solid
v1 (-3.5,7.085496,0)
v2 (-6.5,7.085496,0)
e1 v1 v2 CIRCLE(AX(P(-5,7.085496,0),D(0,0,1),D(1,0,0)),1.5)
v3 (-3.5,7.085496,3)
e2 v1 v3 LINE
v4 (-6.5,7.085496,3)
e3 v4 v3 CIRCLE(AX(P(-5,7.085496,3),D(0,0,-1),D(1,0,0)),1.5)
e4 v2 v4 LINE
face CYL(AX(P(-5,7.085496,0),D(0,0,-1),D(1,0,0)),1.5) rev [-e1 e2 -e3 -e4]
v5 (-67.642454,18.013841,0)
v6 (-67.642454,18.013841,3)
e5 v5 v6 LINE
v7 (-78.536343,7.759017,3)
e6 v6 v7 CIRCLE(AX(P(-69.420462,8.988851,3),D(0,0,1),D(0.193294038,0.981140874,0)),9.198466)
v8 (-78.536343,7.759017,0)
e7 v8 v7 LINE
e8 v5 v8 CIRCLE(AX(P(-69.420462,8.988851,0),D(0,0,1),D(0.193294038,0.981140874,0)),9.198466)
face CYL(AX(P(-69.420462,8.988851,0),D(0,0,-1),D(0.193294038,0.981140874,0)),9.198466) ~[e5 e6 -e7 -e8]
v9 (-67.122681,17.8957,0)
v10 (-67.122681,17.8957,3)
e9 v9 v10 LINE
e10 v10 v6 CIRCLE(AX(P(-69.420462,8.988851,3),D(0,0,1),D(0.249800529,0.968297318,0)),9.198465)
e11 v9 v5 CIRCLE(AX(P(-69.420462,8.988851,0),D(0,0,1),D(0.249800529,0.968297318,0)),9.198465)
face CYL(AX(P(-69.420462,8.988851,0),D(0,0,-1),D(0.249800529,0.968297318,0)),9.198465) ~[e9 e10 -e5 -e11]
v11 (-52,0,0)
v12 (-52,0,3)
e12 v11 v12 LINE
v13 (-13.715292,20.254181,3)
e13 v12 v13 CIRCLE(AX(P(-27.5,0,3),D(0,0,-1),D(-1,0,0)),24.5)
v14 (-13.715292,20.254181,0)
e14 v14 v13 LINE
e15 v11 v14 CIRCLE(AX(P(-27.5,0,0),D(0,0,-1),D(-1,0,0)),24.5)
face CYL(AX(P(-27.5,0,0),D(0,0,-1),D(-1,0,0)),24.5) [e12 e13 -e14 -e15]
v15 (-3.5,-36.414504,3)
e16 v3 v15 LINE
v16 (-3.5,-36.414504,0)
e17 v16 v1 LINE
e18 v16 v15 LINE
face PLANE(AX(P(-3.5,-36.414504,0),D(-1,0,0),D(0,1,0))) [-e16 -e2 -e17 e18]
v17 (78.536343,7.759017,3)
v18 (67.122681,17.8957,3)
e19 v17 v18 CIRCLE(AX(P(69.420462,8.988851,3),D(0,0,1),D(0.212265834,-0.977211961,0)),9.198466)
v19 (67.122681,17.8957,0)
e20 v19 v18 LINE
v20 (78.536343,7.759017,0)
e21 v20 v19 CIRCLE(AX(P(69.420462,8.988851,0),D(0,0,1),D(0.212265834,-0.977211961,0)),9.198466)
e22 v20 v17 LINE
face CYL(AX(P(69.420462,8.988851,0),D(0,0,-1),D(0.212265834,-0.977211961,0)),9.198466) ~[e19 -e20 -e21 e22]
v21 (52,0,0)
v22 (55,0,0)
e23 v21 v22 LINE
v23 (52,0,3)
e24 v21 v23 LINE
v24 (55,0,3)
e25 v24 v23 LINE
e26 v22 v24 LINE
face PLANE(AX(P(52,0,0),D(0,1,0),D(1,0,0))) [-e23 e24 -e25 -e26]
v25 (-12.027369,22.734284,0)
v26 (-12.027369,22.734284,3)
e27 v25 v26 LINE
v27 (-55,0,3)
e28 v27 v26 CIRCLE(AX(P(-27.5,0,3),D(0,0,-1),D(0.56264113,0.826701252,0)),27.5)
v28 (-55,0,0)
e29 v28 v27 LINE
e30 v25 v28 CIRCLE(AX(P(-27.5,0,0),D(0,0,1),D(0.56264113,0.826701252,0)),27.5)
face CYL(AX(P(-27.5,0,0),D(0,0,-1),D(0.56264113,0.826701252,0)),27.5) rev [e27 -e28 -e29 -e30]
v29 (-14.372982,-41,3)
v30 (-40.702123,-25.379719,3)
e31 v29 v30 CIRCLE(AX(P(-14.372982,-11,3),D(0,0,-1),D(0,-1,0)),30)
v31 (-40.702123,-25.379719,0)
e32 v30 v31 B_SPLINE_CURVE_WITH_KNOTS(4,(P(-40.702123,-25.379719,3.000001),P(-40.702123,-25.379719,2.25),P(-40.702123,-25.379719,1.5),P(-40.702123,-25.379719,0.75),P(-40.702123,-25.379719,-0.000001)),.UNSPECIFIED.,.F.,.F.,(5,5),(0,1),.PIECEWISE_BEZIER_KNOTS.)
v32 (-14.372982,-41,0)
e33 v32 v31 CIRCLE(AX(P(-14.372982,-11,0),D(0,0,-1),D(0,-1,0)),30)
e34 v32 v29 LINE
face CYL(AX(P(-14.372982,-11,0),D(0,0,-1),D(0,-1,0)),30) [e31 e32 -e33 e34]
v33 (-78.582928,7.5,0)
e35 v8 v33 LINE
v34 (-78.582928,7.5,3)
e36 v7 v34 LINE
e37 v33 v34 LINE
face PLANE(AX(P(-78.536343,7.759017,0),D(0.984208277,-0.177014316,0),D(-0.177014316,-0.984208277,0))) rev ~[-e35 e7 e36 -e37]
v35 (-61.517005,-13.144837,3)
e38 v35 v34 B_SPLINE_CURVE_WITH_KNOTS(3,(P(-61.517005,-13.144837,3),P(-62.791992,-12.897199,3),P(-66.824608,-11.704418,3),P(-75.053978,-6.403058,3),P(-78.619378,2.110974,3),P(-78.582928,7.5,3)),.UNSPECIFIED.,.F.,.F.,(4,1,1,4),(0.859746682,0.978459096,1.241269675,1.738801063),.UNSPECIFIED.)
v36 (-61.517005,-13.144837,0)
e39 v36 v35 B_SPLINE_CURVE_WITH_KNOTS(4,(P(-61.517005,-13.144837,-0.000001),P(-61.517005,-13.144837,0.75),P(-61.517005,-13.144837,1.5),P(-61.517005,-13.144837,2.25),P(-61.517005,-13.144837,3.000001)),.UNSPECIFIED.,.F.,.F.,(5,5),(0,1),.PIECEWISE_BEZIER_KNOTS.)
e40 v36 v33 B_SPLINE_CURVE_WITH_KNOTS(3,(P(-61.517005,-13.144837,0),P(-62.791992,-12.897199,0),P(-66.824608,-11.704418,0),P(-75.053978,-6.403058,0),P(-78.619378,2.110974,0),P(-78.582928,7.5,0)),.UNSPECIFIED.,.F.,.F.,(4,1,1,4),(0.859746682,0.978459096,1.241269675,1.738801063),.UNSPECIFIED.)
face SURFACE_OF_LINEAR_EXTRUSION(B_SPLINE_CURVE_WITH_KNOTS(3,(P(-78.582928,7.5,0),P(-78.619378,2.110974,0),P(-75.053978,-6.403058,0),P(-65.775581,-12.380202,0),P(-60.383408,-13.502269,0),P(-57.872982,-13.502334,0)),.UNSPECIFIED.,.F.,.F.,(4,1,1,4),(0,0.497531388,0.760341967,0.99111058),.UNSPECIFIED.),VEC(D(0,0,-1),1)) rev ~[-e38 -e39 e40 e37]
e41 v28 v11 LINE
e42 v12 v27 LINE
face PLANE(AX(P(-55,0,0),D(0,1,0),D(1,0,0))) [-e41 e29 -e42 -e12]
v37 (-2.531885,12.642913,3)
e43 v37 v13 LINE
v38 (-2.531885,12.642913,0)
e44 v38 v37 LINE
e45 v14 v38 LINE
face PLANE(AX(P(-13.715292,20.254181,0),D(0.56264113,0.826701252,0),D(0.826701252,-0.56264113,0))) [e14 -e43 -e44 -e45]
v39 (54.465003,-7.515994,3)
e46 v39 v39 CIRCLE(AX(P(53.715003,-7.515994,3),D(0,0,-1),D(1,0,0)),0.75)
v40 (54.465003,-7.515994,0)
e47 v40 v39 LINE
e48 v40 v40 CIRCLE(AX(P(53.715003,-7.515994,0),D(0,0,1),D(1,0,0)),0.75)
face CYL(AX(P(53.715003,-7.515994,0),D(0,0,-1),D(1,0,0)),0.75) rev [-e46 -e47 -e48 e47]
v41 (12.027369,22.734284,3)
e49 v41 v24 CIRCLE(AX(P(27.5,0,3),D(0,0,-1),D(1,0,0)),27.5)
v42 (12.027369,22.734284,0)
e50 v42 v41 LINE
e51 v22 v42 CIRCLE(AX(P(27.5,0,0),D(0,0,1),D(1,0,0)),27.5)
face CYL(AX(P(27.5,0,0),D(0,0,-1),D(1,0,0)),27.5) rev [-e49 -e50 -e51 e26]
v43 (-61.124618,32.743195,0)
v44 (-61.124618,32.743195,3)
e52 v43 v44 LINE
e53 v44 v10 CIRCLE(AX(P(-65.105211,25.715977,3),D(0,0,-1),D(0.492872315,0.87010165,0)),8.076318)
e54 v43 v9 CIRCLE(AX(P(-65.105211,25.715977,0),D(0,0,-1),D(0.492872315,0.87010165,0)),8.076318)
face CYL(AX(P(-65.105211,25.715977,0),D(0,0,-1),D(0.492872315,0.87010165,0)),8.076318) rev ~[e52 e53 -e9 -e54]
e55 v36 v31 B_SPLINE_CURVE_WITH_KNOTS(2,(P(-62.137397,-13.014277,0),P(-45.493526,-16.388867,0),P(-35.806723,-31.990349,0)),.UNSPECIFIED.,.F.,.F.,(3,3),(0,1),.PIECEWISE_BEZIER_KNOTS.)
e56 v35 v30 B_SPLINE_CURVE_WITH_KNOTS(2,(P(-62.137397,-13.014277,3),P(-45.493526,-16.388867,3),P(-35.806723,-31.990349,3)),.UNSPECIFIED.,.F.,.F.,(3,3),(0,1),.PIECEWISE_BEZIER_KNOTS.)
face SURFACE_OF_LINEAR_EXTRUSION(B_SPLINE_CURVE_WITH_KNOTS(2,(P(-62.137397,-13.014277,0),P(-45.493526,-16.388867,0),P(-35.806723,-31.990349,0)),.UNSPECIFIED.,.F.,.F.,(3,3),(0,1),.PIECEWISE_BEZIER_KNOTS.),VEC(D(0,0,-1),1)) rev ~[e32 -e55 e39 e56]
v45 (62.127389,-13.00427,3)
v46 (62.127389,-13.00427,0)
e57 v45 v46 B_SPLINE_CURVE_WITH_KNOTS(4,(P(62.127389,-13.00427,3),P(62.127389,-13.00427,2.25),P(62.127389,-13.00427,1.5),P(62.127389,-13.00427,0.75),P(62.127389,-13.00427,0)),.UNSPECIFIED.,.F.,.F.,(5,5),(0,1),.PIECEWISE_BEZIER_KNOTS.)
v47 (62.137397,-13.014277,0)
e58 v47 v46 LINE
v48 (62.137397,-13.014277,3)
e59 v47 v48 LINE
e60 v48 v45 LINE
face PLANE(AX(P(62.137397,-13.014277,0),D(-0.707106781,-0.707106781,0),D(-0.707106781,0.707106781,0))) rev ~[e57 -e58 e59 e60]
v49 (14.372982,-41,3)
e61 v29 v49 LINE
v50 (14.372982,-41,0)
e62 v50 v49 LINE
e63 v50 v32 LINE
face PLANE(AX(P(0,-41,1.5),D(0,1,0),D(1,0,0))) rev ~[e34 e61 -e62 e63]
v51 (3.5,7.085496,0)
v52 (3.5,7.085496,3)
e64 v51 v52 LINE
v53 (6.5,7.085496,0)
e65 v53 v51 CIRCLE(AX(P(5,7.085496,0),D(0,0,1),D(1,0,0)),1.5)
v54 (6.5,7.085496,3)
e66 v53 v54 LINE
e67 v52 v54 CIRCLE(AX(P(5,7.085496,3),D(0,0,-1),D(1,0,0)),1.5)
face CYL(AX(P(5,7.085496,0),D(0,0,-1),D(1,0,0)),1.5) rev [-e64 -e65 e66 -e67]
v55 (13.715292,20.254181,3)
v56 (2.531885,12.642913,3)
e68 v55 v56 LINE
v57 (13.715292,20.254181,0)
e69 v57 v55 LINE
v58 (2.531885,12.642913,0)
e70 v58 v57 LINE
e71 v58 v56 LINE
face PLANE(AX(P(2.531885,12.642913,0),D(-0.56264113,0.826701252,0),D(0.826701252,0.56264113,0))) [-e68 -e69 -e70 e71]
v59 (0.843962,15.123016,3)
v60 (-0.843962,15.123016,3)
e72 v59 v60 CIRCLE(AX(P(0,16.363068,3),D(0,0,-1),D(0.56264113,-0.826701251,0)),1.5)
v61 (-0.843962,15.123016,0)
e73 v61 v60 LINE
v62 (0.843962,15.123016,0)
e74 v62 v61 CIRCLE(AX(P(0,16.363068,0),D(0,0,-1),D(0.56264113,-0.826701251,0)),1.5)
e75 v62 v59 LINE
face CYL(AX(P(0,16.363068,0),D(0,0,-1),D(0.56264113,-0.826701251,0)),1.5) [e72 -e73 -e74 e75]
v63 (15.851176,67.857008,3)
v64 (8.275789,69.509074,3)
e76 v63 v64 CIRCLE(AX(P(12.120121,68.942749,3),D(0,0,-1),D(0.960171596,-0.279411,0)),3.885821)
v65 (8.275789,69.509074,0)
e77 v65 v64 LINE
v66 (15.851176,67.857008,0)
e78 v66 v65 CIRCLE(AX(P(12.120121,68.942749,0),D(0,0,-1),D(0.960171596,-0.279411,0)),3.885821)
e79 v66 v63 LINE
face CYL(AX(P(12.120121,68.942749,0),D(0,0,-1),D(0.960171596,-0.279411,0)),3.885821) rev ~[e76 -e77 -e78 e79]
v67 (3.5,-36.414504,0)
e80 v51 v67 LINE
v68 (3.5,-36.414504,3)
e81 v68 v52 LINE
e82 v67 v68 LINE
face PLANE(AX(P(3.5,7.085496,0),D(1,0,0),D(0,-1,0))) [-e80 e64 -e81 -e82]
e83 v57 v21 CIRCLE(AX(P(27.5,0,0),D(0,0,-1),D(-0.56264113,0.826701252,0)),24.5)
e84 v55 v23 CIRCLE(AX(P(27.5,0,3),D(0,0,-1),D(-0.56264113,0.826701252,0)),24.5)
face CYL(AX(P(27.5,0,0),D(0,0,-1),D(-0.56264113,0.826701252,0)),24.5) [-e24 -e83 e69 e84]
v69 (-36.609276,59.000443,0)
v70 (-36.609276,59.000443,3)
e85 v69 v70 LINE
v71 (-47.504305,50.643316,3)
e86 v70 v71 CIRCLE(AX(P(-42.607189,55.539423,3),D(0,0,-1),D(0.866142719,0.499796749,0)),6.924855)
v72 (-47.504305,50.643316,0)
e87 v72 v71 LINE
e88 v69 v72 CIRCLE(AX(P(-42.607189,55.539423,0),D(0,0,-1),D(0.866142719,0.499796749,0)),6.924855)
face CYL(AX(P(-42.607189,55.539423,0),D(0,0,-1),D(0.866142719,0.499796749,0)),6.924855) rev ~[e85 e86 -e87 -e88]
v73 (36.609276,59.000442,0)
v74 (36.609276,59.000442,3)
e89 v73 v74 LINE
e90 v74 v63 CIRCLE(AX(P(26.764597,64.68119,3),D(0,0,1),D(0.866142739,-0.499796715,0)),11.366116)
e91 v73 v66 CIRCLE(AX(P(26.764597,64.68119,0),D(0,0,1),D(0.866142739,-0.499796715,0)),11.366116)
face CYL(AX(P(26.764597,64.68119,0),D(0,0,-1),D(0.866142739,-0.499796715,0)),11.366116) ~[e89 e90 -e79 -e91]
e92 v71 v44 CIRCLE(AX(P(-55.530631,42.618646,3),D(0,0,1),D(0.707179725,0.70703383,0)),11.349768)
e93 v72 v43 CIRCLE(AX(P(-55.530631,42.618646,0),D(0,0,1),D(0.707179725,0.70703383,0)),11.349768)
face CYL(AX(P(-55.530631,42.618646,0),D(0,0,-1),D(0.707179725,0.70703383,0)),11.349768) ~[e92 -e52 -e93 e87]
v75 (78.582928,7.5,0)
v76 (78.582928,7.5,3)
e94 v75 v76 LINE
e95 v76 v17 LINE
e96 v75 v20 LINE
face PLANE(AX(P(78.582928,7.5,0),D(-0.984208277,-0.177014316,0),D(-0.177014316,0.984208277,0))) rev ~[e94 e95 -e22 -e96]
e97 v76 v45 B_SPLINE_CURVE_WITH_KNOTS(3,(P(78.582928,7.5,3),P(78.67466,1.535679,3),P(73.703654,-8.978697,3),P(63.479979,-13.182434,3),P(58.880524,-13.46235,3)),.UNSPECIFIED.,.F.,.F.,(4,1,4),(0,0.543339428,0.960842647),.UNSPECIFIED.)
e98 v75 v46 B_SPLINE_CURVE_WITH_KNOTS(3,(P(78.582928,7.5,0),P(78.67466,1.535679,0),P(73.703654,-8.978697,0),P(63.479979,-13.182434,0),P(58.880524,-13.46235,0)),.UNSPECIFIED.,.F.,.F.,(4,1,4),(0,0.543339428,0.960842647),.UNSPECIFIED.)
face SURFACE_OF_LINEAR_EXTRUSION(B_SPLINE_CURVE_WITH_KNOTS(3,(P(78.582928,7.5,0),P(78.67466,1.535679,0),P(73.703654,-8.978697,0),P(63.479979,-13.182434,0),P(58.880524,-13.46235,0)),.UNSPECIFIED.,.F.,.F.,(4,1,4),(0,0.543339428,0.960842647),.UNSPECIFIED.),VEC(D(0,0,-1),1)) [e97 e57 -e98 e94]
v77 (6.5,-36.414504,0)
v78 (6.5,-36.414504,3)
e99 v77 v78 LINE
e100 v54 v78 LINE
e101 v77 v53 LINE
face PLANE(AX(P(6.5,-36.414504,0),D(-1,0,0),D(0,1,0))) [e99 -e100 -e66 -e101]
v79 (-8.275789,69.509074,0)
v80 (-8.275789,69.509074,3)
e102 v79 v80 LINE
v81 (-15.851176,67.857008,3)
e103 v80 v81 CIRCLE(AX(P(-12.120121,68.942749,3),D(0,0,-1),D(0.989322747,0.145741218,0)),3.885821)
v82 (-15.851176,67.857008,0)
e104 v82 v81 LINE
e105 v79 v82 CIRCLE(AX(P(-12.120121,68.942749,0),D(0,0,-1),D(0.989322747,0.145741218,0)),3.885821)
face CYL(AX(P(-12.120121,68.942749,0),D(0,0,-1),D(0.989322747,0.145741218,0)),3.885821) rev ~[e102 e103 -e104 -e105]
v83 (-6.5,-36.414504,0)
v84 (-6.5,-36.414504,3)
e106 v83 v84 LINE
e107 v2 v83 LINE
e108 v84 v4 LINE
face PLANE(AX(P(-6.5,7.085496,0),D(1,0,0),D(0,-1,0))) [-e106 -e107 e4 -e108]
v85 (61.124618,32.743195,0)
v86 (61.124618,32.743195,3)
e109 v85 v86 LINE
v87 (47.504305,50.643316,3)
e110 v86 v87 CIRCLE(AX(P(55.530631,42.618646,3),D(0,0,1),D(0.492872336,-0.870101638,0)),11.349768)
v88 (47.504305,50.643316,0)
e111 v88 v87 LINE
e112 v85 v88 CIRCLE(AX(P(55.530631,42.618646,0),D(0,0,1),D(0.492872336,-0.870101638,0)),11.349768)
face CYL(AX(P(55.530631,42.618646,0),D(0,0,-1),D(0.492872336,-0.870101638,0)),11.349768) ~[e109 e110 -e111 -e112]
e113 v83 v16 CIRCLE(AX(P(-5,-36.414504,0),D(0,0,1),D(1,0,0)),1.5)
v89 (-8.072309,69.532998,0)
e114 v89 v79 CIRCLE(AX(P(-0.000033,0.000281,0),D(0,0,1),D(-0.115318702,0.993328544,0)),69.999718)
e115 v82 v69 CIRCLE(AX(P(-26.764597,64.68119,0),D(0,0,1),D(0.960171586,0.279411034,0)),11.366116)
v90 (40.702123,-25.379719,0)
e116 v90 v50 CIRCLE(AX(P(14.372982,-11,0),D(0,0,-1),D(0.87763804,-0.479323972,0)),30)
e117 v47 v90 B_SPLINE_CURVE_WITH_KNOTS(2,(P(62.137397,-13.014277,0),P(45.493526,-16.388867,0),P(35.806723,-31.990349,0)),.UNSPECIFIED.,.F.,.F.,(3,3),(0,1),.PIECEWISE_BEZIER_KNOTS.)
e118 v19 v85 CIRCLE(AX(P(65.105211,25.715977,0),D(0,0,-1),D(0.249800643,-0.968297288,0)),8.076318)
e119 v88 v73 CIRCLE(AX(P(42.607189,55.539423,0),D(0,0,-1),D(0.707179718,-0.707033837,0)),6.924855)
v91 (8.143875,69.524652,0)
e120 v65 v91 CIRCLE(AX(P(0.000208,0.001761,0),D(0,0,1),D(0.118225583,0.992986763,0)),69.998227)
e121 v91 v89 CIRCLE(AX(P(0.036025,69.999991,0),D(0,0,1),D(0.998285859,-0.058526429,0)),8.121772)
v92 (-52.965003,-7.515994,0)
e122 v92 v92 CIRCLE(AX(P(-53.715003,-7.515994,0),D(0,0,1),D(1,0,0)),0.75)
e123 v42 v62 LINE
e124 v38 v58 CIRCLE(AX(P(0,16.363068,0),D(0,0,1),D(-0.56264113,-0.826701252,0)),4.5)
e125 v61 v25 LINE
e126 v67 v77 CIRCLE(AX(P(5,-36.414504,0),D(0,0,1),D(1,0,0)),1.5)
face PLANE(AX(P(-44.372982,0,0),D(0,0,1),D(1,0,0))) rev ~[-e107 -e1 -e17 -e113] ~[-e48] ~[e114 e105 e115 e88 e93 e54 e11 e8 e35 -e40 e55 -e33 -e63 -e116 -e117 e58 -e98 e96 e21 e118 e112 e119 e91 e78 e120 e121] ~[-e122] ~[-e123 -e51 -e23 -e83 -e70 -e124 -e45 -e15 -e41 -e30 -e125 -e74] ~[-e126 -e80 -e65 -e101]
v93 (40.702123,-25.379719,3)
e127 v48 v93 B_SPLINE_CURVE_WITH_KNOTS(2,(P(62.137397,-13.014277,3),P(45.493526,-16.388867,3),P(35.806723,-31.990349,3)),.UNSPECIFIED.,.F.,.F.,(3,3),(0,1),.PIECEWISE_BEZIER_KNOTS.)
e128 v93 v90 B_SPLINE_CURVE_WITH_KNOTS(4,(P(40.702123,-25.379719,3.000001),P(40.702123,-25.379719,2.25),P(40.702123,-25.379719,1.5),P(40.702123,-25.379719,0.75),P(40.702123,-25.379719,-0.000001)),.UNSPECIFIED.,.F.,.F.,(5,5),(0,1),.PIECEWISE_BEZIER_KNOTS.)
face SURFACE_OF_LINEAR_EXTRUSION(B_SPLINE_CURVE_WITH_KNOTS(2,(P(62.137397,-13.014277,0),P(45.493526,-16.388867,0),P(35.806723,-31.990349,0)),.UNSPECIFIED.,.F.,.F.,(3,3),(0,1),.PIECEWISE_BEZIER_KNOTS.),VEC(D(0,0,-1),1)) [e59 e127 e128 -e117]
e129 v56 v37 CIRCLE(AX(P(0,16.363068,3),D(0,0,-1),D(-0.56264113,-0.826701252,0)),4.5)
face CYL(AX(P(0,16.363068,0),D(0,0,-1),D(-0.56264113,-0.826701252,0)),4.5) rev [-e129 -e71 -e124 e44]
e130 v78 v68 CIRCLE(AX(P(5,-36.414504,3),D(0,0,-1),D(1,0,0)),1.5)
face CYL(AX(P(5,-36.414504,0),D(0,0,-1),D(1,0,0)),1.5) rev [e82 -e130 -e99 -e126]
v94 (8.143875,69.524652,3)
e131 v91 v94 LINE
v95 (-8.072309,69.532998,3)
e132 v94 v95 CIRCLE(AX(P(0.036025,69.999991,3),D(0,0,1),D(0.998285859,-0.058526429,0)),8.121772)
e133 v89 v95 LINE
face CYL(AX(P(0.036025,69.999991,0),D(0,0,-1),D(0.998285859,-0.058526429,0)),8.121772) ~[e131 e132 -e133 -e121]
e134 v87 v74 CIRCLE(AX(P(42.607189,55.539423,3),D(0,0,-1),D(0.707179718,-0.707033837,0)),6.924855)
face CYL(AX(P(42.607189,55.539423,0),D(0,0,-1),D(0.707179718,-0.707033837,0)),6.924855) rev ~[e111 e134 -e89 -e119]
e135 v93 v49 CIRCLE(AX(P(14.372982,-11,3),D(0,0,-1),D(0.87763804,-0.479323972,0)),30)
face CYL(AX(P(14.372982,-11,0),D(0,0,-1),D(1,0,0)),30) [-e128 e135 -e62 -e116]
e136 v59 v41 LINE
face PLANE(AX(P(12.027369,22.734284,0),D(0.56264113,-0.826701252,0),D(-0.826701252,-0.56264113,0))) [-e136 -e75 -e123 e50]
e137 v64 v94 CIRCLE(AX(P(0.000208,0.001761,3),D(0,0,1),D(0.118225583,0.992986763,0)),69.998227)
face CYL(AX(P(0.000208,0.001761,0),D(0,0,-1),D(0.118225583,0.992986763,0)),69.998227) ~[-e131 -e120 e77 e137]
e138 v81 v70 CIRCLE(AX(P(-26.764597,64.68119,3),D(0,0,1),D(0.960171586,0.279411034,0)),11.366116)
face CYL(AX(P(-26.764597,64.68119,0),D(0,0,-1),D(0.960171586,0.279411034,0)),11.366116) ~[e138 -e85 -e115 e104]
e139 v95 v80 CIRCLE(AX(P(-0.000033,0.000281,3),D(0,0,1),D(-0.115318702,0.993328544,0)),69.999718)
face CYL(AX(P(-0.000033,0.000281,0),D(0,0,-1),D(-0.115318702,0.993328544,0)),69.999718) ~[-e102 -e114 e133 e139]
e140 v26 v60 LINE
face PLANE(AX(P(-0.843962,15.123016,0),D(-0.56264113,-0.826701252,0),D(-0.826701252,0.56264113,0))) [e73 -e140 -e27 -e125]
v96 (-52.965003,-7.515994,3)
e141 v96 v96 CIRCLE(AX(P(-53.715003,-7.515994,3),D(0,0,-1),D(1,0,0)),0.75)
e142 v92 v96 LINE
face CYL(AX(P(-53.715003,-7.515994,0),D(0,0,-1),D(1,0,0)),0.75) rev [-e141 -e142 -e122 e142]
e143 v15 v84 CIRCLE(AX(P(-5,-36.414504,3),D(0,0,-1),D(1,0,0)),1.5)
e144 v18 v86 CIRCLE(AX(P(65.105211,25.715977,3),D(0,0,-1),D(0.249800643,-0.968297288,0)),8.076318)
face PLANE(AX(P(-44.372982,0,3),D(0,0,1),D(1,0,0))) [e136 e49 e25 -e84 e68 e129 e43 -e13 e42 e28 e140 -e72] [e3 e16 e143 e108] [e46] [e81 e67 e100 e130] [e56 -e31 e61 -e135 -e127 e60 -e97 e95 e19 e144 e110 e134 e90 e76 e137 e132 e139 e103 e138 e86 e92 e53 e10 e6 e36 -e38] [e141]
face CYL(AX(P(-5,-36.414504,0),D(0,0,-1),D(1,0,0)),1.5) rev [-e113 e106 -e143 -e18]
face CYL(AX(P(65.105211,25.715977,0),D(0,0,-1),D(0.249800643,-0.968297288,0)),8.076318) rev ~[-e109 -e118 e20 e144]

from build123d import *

# Parameters (mm, degrees)
BOSS_EXTRUDE3_DEPTH      = 3
BOSS_EXTRUDE4_DEPTH      = 3
CUT_EXTRUDE11_DEPTH      = 111.873556651
CUT_EXTRUDE11_DEPTH_BACK = 111.873556651
SKETCH6_W                = 30
SKETCH6_H                = 41
BOSS_EXTRUDE5_DEPTH      = 40
SKETCH7_W                = 88.745964224
SKETCH7_H                = 3
BOSS_EXTRUDE6_DEPTH      = 41
CUT_EXTRUDE12_DEPTH      = 118.830155579
CUT_EXTRUDE12_DEPTH_BACK = 118.830155579
BOSS_EXTRUDE7_DEPTH      = 3
CUT_EXTRUDE13_START      = 3
SKETCH11_W               = 10
SKETCH11_H               = 13.79344676
CUT_EXTRUDE13_DEPTH      = 41
SKETCH12_R               = 1.55
CUT_EXTRUDE14_DEPTH      = 118.830155613
CUT_EXTRUDE14_DEPTH_BACK = 118.830155613
SKETCH13_R               = 0.75
CUT_EXTRUDE15_DEPTH      = 118.830155613
CUT_EXTRUDE15_DEPTH_BACK = 118.830155613
CUT_EXTRUDE17_START      = 3
SKETCH14_W               = 30.416262865
SKETCH14_H               = 42.907687787
CUT_EXTRUDE17_DEPTH      = 41
SKETCH16_R               = 1.5
CUT_EXTRUDE19_DEPTH      = 111.873556651
CUT_EXTRUDE19_DEPTH_BACK = 111.873556651


with BuildPart() as part:
    # Sketch2 → Boss-Extrude3 (new body)
    with BuildSketch(Plane.XY):
        with BuildLine():
            ThreePointArc((47.50430531, 50.643316247), (38.392532309, 50.044854207), (36.609276159, 59.000442494))
            ThreePointArc((36.609276159, 59.000442494), (31.22500556, 75.135535905), (15.851175796, 67.857008055))
            ThreePointArc((15.851175796, 67.857008055), (11.292148271, 65.146162721), (8.27578906, 69.509073619))
            ThreePointArc((8.27578906, 69.509073619), (8.209835801, 69.516894322), (8.143875152, 69.524652444))
            ThreePointArc((8.143875152, 69.524652444), (0.040205316, 78.121761213), (-8.072309219, 69.532998094))
            ThreePointArc((-8.072309219, 69.532998094), (-8.174057892, 69.521110302), (-8.27578906, 69.509073619))
            ThreePointArc((-8.27578906, 69.509073619), (-11.292148299, 65.146162715), (-15.851175812, 67.857008111))
            ThreePointArc((-15.851175812, 67.857008111), (-31.225005545, 75.135535912), (-36.609276205, 59.000442573))
            ThreePointArc((-36.609276205, 59.000442573), (-38.39253227, 50.044854237), (-47.504305306, 50.643316242))
            ThreePointArc((-47.504305306, 50.643316242), (-64.562942613, 49.491387864), (-61.124617501, 32.743194941))
            ThreePointArc((-61.124617501, 32.743194941), (-57.616854175, 22.690844698), (-67.122680626, 17.895700022))
            ThreePointArc((-67.122680626, 17.895700022), (-67.381711192, 17.958536274), (-67.642453618, 18.013841027))
            ThreePointArc((-67.642453618, 18.013841027), (-78.427805312, 10.854202298), (-71.372982112, 0))
            Line((-71.372982112, 0), (71.372982112, 0))
            ThreePointArc((71.372982112, 0), (78.369977301, 11.114396723), (67.122680666, 17.895700032))
            ThreePointArc((67.122680666, 17.895700032), (57.616854183, 22.690844679), (61.124617501, 32.743194941))
            ThreePointArc((61.124617501, 32.743194941), (64.562942615, 49.491387862), (47.50430531, 50.643316247))
        make_face()
    extrude(amount=BOSS_EXTRUDE3_DEPTH)

    # Sketch4 → Boss-Extrude4 (add)
    with BuildSketch(Plane.XY):
        with BuildLine():
            Line((-44.372982112, 0), (-57.872982112, 0))
            Line((-57.872982112, 0), (-57.872982112, -13.5))
            ThreePointArc((-57.872982112, -13.5), (-50.941516146, -11.584678656), (-45.97686273, -6.382189564))
            ThreePointArc((-45.97686273, -6.382189564), (-45.287489461, -3.162806043), (-44.372982112, 0))
        make_face()
        with BuildLine():
            Line((-57.872982112, -13.5), (-57.872982112, 0))
            Line((-57.872982112, 0), (-71.372982112, 0))
            ThreePointArc((-71.372982112, 0), (-67.418923658, -9.545941546), (-57.872982112, -13.5))
        make_face()
        with BuildLine():
            Line((-57.872982112, -13.502334306), (-57.872982112, -13.5))
            ThreePointArc((-57.872982112, -13.5), (-67.418923658, -9.545941546), (-71.372982112, 0))
            ThreePointArc((-71.372982112, 0), (-72.451224877, 0.304022071), (-73.484512677, 0.73686523))
            ThreePointArc((-73.484512677, 0.73686523), (-74.477917841, 1.305497745), (-75.393009288, 1.993105481))
            ThreePointArc((-75.393009288, 1.993105481), (-76.19177077, 2.763005392), (-76.892036557, 3.623466668))
            ThreePointArc((-76.892036557, 3.623466668), (-77.482473018, 4.559883509), (-77.956141708, 5.560448192))
            ThreePointArc((-77.956141708, 5.560448192), (-78.314438673, 6.641735343), (-78.536342603, 7.759016536))
            Line((-78.536342603, 7.759016536), (-78.5829279, 7.5))
            add(Edge.make_bspline(
                [(-78.5829279, 7.5), (-78.619378381, 2.110973886), (-75.05397773, -6.403058313), (-65.775580858, -12.380201513), (-60.383408465, -13.5022688), (-57.872982112, -13.502334306)],
                knots=[0, 0, 0, 0, 0.497531388, 0.760341967, 0.99111058, 0.99111058, 0.99111058, 0.99111058], degree=3))
        make_face()
        with BuildLine():
            Line((57.872982112, 0), (44.372982112, 0))
            ThreePointArc((44.372982112, 0), (45.287489461, -3.162806043), (45.97686273, -6.382189564))
            ThreePointArc((45.97686273, -6.382189564), (50.899542414, -11.559461007), (57.775049798, -13.499644783))
            add(Edge.make_bspline(
                [(57.872982112, -13.498764325), (57.840342719, -13.499136412), (57.807698516, -13.49942994), (57.775049798, -13.499644783)],
                knots=[0.991262366, 0.991262366, 0.991262366, 0.991262366, 0.994213276, 0.994213276, 0.994213276, 0.994213276], degree=3))
            Line((57.872982112, -13.498764325), (57.872982112, 0))
        make_face()
        with BuildLine():
            Line((71.372982112, 0), (57.872982112, 0))
            Line((57.872982112, 0), (57.872982112, -13.498764325))
            add(Edge.make_bspline(
                [(58.880524263, -13.462349677), (58.545403195, -13.482744614), (58.209448198, -13.494928627), (57.872982112, -13.498764325)],
                knots=[0.960842647, 0.960842647, 0.960842647, 0.960842647, 0.991262366, 0.991262366, 0.991262366, 0.991262366], degree=3))
            ThreePointArc((58.880524263, -13.462349677), (67.768734207, -9.182814954), (71.372982112, 0))
        make_face()
        with BuildLine():
            ThreePointArc((73.484512677, 0.73686523), (72.451224877, 0.304022071), (71.372982112, 0))
            ThreePointArc((71.372982112, 0), (67.768734207, -9.182814954), (58.880524263, -13.462349677))
            add(Edge.make_bspline(
                [(78.5829279, 7.5), (78.674659632, 1.535679134), (73.703653617, -8.978697254), (63.479979045, -13.182434147), (58.880524263, -13.462349677)],
                knots=[0, 0, 0, 0, 0.543339428, 0.960842647, 0.960842647, 0.960842647, 0.960842647], degree=3))
            Line((78.5829279, 7.5), (78.536342603, 7.759016536))
            ThreePointArc((78.536342603, 7.759016536), (78.314438673, 6.641735343), (77.956141708, 5.560448192))
            ThreePointArc((77.956141708, 5.560448192), (77.482473018, 4.559883509), (76.892036557, 3.623466668))
            ThreePointArc((76.892036557, 3.623466668), (76.19177077, 2.763005392), (75.393009288, 1.993105481))
            ThreePointArc((75.393009288, 1.993105481), (74.477917841, 1.305497745), (73.484512677, 0.73686523))
        make_face()
    extrude(amount=BOSS_EXTRUDE4_DEPTH)

    # Sketch5 → Cut-Extrude11 (cut, two sides)
    with BuildSketch(Plane.XY) as cut_extrude11_sk:
        with BuildLine():
            ThreePointArc((-12.027368937, 22.734284418), (-40.359872584, 24.307893309), (-55, 0))
            Line((-55, 0), (-52, 0))
            ThreePointArc((-52, 0), (-38.956977393, 21.65612313), (-13.715292326, 20.254180663))
            Line((-13.715292326, 20.254180663), (-2.531885083, 12.64291254))
            ThreePointArc((-2.531885083, 12.64291254), (0, 11.863068172), (2.531885083, 12.64291254))
            Line((2.531885083, 12.64291254), (13.715292326, 20.254180663))
            ThreePointArc((13.715292326, 20.254180663), (38.956977393, 21.65612313), (52, 0))
            Line((52, 0), (55, 0))
            ThreePointArc((55, 0), (40.359872584, 24.307893309), (12.027368937, 22.734284418))
            Line((12.027368937, 22.734284418), (0.843961694, 15.123016295))
            ThreePointArc((0.843961694, 15.123016295), (0, 14.863068172), (-0.843961694, 15.123016295))
            Line((-0.843961694, 15.123016295), (-12.027368937, 22.734284418))
        make_face()
    extrude(amount=CUT_EXTRUDE11_DEPTH, mode=Mode.SUBTRACT)
    extrude(cut_extrude11_sk.sketch, amount=-CUT_EXTRUDE11_DEPTH_BACK, mode=Mode.SUBTRACT)

    # Sketch6 → Boss-Extrude5 (add)
    with BuildSketch(Plane.XY):
        with Locations((0, -20.5)):
            Rectangle(SKETCH6_W, SKETCH6_H)
    extrude(amount=BOSS_EXTRUDE5_DEPTH)

    # Sketch7 → Boss-Extrude6 (add)
    with BuildSketch(Plane(origin=(0, 0, 0), x_dir=(1, 0, 0), z_dir=(0, 1, 0))):
        with Locations((0, -1.5)):
            Rectangle(SKETCH7_W, SKETCH7_H)
    extrude(amount=-BOSS_EXTRUDE6_DEPTH)

    # Sketch8 → Cut-Extrude12 (cut, two sides)
    with BuildSketch(Plane.XY) as cut_extrude12_sk:
        with BuildLine():
            Line((44.372982112, -41), (44.372982112, -11))
            ThreePointArc((44.372982112, -11), (35.586185548, -32.213203436), (14.372982112, -41))
            Line((14.372982112, -41), (44.372982112, -41))
        make_face()
        with BuildLine():
            Line((0, -46.518418556), (0, -41))
            Line((0, -41), (-14.372982112, -41))
            ThreePointArc((-14.372982112, -41), (-35.586185548, -32.213203436), (-44.372982112, -11))
            Line((-44.372982112, -11), (-44.372982112, -46.518418556))
            Line((-44.372982112, -46.518418556), (0, -46.518418556))
        make_face()
        Polygon((44.372982112, -46.518418556), (44.372982112, -41), (14.372982112, -41), (0, -41), (0, -46.518418556), align=None)
    extrude(amount=CUT_EXTRUDE12_DEPTH, mode=Mode.SUBTRACT)
    extrude(cut_extrude12_sk.sketch, amount=-CUT_EXTRUDE12_DEPTH_BACK, mode=Mode.SUBTRACT)

    # Sketch10 → Boss-Extrude7 (add)
    with BuildSketch(Plane.XY):
        with BuildLine():
            Line((-62.137396583, -13.014276789), (-43.035731637, 6.087388157))
            Line((-43.035731637, 6.087388157), (-28.63207452, -11.418368831))
            Line((-28.63207452, -11.418368831), (-35.806723464, -31.990348537))
            add(Edge.make_bspline(
                [(-62.137396583, -13.014276789), (-45.493525683, -16.38886663), (-35.806723464, -31.990348537)],
                knots=[0, 0, 0, 1, 1, 1], degree=2))
        make_face()
        with BuildLine():
            Line((43.035731637, 6.087388157), (28.63207452, -11.418368831))
            Line((28.63207452, -11.418368831), (35.806723464, -31.990348537))
            add(Edge.make_bspline(
                [(62.137396583, -13.014276789), (45.493525683, -16.38886663), (35.806723464, -31.990348537)],
                knots=[0, 0, 0, 1, 1, 1], degree=2))
            Line((62.137396583, -13.014276789), (43.035731637, 6.087388157))
        make_face()
    extrude(amount=BOSS_EXTRUDE7_DEPTH)

    # Sketch11 → Cut-Extrude13 (cut)
    with BuildSketch(Plane.XY.offset(CUT_EXTRUDE13_START)):
        with Locations((-10, -20.49672338)):
            Rectangle(SKETCH11_W, SKETCH11_H)
        with Locations((10, -20.49672338)):
            Rectangle(SKETCH11_W, SKETCH11_H)
    extrude(amount=CUT_EXTRUDE13_DEPTH, mode=Mode.SUBTRACT)

    # Sketch12 → Cut-Extrude14 (cut, two sides)
    with BuildSketch(Plane(origin=(0, 0, 0), x_dir=(1, 0, 0), z_dir=(0, 1, 0))) as cut_extrude14_sk:
        with Locations(Location((0, -24, 0), (0, 0, 270))):
            Circle(SKETCH12_R)
    extrude(amount=CUT_EXTRUDE14_DEPTH, mode=Mode.SUBTRACT)
    extrude(cut_extrude14_sk.sketch, amount=-CUT_EXTRUDE14_DEPTH_BACK, mode=Mode.SUBTRACT)

    # Sketch13 → Cut-Extrude15 (cut, two sides)
    with BuildSketch(Plane.XY) as cut_extrude15_sk:
        with Locations((-53.715002972, -7.515993868)):
            Circle(SKETCH13_R)
        with Locations((53.715002972, -7.515993868)):
            Circle(SKETCH13_R)
    extrude(amount=CUT_EXTRUDE15_DEPTH, mode=Mode.SUBTRACT)
    extrude(cut_extrude15_sk.sketch, amount=-CUT_EXTRUDE15_DEPTH_BACK, mode=Mode.SUBTRACT)

    # Sketch14 → Cut-Extrude17 (cut)
    with BuildSketch(Plane.XY.offset(CUT_EXTRUDE17_START)):
        with Locations((0.208131432, -21.453843894)):
            Rectangle(SKETCH14_W, SKETCH14_H)
    extrude(amount=CUT_EXTRUDE17_DEPTH, mode=Mode.SUBTRACT)

    # Sketch16 → Cut-Extrude19 (cut, two sides)
    with BuildSketch(Plane.XY) as cut_extrude19_sk:
        with Locations((-5, 7.085495567)):
            Circle(SKETCH16_R)
        with Locations((5, 7.085495567)):
            Circle(SKETCH16_R)
        with BuildLine():
            ThreePointArc((6.5, 7.085495567), (5, 5.585495567), (3.5, 7.085495567))
            Line((3.5, 7.085495567), (3.5, -34.074581897))
            Line((3.5, -34.074581897), (3.5, -36.414504433))
            ThreePointArc((3.5, -36.414504433), (5, -34.914504433), (6.5, -36.414504433))
            Line((6.5, -36.414504433), (6.5, -34.074581897))
            Line((6.5, -34.074581897), (6.5, 7.085495567))
        make_face()
        with BuildLine():
            ThreePointArc((-3.5, 7.085495567), (-5, 5.585495567), (-6.5, 7.085495567))
            Line((-6.5, 7.085495567), (-6.5, -34.074581897))
            Line((-6.5, -34.074581897), (-6.5, -36.414504433))
            ThreePointArc((-6.5, -36.414504433), (-5, -34.914504433), (-3.5, -36.414504433))
            Line((-3.5, -36.414504433), (-3.5, -34.074581897))
            Line((-3.5, -34.074581897), (-3.5, 7.085495567))
        make_face()
        with Locations((-5, -36.414504433)):
            Circle(SKETCH16_R)
        with Locations((5, -36.414504433)):
            Circle(SKETCH16_R)
    extrude(amount=CUT_EXTRUDE19_DEPTH, mode=Mode.SUBTRACT)
    extrude(cut_extrude19_sk.sketch, amount=-CUT_EXTRUDE19_DEPTH_BACK, mode=Mode.SUBTRACT)


solid = part.part
